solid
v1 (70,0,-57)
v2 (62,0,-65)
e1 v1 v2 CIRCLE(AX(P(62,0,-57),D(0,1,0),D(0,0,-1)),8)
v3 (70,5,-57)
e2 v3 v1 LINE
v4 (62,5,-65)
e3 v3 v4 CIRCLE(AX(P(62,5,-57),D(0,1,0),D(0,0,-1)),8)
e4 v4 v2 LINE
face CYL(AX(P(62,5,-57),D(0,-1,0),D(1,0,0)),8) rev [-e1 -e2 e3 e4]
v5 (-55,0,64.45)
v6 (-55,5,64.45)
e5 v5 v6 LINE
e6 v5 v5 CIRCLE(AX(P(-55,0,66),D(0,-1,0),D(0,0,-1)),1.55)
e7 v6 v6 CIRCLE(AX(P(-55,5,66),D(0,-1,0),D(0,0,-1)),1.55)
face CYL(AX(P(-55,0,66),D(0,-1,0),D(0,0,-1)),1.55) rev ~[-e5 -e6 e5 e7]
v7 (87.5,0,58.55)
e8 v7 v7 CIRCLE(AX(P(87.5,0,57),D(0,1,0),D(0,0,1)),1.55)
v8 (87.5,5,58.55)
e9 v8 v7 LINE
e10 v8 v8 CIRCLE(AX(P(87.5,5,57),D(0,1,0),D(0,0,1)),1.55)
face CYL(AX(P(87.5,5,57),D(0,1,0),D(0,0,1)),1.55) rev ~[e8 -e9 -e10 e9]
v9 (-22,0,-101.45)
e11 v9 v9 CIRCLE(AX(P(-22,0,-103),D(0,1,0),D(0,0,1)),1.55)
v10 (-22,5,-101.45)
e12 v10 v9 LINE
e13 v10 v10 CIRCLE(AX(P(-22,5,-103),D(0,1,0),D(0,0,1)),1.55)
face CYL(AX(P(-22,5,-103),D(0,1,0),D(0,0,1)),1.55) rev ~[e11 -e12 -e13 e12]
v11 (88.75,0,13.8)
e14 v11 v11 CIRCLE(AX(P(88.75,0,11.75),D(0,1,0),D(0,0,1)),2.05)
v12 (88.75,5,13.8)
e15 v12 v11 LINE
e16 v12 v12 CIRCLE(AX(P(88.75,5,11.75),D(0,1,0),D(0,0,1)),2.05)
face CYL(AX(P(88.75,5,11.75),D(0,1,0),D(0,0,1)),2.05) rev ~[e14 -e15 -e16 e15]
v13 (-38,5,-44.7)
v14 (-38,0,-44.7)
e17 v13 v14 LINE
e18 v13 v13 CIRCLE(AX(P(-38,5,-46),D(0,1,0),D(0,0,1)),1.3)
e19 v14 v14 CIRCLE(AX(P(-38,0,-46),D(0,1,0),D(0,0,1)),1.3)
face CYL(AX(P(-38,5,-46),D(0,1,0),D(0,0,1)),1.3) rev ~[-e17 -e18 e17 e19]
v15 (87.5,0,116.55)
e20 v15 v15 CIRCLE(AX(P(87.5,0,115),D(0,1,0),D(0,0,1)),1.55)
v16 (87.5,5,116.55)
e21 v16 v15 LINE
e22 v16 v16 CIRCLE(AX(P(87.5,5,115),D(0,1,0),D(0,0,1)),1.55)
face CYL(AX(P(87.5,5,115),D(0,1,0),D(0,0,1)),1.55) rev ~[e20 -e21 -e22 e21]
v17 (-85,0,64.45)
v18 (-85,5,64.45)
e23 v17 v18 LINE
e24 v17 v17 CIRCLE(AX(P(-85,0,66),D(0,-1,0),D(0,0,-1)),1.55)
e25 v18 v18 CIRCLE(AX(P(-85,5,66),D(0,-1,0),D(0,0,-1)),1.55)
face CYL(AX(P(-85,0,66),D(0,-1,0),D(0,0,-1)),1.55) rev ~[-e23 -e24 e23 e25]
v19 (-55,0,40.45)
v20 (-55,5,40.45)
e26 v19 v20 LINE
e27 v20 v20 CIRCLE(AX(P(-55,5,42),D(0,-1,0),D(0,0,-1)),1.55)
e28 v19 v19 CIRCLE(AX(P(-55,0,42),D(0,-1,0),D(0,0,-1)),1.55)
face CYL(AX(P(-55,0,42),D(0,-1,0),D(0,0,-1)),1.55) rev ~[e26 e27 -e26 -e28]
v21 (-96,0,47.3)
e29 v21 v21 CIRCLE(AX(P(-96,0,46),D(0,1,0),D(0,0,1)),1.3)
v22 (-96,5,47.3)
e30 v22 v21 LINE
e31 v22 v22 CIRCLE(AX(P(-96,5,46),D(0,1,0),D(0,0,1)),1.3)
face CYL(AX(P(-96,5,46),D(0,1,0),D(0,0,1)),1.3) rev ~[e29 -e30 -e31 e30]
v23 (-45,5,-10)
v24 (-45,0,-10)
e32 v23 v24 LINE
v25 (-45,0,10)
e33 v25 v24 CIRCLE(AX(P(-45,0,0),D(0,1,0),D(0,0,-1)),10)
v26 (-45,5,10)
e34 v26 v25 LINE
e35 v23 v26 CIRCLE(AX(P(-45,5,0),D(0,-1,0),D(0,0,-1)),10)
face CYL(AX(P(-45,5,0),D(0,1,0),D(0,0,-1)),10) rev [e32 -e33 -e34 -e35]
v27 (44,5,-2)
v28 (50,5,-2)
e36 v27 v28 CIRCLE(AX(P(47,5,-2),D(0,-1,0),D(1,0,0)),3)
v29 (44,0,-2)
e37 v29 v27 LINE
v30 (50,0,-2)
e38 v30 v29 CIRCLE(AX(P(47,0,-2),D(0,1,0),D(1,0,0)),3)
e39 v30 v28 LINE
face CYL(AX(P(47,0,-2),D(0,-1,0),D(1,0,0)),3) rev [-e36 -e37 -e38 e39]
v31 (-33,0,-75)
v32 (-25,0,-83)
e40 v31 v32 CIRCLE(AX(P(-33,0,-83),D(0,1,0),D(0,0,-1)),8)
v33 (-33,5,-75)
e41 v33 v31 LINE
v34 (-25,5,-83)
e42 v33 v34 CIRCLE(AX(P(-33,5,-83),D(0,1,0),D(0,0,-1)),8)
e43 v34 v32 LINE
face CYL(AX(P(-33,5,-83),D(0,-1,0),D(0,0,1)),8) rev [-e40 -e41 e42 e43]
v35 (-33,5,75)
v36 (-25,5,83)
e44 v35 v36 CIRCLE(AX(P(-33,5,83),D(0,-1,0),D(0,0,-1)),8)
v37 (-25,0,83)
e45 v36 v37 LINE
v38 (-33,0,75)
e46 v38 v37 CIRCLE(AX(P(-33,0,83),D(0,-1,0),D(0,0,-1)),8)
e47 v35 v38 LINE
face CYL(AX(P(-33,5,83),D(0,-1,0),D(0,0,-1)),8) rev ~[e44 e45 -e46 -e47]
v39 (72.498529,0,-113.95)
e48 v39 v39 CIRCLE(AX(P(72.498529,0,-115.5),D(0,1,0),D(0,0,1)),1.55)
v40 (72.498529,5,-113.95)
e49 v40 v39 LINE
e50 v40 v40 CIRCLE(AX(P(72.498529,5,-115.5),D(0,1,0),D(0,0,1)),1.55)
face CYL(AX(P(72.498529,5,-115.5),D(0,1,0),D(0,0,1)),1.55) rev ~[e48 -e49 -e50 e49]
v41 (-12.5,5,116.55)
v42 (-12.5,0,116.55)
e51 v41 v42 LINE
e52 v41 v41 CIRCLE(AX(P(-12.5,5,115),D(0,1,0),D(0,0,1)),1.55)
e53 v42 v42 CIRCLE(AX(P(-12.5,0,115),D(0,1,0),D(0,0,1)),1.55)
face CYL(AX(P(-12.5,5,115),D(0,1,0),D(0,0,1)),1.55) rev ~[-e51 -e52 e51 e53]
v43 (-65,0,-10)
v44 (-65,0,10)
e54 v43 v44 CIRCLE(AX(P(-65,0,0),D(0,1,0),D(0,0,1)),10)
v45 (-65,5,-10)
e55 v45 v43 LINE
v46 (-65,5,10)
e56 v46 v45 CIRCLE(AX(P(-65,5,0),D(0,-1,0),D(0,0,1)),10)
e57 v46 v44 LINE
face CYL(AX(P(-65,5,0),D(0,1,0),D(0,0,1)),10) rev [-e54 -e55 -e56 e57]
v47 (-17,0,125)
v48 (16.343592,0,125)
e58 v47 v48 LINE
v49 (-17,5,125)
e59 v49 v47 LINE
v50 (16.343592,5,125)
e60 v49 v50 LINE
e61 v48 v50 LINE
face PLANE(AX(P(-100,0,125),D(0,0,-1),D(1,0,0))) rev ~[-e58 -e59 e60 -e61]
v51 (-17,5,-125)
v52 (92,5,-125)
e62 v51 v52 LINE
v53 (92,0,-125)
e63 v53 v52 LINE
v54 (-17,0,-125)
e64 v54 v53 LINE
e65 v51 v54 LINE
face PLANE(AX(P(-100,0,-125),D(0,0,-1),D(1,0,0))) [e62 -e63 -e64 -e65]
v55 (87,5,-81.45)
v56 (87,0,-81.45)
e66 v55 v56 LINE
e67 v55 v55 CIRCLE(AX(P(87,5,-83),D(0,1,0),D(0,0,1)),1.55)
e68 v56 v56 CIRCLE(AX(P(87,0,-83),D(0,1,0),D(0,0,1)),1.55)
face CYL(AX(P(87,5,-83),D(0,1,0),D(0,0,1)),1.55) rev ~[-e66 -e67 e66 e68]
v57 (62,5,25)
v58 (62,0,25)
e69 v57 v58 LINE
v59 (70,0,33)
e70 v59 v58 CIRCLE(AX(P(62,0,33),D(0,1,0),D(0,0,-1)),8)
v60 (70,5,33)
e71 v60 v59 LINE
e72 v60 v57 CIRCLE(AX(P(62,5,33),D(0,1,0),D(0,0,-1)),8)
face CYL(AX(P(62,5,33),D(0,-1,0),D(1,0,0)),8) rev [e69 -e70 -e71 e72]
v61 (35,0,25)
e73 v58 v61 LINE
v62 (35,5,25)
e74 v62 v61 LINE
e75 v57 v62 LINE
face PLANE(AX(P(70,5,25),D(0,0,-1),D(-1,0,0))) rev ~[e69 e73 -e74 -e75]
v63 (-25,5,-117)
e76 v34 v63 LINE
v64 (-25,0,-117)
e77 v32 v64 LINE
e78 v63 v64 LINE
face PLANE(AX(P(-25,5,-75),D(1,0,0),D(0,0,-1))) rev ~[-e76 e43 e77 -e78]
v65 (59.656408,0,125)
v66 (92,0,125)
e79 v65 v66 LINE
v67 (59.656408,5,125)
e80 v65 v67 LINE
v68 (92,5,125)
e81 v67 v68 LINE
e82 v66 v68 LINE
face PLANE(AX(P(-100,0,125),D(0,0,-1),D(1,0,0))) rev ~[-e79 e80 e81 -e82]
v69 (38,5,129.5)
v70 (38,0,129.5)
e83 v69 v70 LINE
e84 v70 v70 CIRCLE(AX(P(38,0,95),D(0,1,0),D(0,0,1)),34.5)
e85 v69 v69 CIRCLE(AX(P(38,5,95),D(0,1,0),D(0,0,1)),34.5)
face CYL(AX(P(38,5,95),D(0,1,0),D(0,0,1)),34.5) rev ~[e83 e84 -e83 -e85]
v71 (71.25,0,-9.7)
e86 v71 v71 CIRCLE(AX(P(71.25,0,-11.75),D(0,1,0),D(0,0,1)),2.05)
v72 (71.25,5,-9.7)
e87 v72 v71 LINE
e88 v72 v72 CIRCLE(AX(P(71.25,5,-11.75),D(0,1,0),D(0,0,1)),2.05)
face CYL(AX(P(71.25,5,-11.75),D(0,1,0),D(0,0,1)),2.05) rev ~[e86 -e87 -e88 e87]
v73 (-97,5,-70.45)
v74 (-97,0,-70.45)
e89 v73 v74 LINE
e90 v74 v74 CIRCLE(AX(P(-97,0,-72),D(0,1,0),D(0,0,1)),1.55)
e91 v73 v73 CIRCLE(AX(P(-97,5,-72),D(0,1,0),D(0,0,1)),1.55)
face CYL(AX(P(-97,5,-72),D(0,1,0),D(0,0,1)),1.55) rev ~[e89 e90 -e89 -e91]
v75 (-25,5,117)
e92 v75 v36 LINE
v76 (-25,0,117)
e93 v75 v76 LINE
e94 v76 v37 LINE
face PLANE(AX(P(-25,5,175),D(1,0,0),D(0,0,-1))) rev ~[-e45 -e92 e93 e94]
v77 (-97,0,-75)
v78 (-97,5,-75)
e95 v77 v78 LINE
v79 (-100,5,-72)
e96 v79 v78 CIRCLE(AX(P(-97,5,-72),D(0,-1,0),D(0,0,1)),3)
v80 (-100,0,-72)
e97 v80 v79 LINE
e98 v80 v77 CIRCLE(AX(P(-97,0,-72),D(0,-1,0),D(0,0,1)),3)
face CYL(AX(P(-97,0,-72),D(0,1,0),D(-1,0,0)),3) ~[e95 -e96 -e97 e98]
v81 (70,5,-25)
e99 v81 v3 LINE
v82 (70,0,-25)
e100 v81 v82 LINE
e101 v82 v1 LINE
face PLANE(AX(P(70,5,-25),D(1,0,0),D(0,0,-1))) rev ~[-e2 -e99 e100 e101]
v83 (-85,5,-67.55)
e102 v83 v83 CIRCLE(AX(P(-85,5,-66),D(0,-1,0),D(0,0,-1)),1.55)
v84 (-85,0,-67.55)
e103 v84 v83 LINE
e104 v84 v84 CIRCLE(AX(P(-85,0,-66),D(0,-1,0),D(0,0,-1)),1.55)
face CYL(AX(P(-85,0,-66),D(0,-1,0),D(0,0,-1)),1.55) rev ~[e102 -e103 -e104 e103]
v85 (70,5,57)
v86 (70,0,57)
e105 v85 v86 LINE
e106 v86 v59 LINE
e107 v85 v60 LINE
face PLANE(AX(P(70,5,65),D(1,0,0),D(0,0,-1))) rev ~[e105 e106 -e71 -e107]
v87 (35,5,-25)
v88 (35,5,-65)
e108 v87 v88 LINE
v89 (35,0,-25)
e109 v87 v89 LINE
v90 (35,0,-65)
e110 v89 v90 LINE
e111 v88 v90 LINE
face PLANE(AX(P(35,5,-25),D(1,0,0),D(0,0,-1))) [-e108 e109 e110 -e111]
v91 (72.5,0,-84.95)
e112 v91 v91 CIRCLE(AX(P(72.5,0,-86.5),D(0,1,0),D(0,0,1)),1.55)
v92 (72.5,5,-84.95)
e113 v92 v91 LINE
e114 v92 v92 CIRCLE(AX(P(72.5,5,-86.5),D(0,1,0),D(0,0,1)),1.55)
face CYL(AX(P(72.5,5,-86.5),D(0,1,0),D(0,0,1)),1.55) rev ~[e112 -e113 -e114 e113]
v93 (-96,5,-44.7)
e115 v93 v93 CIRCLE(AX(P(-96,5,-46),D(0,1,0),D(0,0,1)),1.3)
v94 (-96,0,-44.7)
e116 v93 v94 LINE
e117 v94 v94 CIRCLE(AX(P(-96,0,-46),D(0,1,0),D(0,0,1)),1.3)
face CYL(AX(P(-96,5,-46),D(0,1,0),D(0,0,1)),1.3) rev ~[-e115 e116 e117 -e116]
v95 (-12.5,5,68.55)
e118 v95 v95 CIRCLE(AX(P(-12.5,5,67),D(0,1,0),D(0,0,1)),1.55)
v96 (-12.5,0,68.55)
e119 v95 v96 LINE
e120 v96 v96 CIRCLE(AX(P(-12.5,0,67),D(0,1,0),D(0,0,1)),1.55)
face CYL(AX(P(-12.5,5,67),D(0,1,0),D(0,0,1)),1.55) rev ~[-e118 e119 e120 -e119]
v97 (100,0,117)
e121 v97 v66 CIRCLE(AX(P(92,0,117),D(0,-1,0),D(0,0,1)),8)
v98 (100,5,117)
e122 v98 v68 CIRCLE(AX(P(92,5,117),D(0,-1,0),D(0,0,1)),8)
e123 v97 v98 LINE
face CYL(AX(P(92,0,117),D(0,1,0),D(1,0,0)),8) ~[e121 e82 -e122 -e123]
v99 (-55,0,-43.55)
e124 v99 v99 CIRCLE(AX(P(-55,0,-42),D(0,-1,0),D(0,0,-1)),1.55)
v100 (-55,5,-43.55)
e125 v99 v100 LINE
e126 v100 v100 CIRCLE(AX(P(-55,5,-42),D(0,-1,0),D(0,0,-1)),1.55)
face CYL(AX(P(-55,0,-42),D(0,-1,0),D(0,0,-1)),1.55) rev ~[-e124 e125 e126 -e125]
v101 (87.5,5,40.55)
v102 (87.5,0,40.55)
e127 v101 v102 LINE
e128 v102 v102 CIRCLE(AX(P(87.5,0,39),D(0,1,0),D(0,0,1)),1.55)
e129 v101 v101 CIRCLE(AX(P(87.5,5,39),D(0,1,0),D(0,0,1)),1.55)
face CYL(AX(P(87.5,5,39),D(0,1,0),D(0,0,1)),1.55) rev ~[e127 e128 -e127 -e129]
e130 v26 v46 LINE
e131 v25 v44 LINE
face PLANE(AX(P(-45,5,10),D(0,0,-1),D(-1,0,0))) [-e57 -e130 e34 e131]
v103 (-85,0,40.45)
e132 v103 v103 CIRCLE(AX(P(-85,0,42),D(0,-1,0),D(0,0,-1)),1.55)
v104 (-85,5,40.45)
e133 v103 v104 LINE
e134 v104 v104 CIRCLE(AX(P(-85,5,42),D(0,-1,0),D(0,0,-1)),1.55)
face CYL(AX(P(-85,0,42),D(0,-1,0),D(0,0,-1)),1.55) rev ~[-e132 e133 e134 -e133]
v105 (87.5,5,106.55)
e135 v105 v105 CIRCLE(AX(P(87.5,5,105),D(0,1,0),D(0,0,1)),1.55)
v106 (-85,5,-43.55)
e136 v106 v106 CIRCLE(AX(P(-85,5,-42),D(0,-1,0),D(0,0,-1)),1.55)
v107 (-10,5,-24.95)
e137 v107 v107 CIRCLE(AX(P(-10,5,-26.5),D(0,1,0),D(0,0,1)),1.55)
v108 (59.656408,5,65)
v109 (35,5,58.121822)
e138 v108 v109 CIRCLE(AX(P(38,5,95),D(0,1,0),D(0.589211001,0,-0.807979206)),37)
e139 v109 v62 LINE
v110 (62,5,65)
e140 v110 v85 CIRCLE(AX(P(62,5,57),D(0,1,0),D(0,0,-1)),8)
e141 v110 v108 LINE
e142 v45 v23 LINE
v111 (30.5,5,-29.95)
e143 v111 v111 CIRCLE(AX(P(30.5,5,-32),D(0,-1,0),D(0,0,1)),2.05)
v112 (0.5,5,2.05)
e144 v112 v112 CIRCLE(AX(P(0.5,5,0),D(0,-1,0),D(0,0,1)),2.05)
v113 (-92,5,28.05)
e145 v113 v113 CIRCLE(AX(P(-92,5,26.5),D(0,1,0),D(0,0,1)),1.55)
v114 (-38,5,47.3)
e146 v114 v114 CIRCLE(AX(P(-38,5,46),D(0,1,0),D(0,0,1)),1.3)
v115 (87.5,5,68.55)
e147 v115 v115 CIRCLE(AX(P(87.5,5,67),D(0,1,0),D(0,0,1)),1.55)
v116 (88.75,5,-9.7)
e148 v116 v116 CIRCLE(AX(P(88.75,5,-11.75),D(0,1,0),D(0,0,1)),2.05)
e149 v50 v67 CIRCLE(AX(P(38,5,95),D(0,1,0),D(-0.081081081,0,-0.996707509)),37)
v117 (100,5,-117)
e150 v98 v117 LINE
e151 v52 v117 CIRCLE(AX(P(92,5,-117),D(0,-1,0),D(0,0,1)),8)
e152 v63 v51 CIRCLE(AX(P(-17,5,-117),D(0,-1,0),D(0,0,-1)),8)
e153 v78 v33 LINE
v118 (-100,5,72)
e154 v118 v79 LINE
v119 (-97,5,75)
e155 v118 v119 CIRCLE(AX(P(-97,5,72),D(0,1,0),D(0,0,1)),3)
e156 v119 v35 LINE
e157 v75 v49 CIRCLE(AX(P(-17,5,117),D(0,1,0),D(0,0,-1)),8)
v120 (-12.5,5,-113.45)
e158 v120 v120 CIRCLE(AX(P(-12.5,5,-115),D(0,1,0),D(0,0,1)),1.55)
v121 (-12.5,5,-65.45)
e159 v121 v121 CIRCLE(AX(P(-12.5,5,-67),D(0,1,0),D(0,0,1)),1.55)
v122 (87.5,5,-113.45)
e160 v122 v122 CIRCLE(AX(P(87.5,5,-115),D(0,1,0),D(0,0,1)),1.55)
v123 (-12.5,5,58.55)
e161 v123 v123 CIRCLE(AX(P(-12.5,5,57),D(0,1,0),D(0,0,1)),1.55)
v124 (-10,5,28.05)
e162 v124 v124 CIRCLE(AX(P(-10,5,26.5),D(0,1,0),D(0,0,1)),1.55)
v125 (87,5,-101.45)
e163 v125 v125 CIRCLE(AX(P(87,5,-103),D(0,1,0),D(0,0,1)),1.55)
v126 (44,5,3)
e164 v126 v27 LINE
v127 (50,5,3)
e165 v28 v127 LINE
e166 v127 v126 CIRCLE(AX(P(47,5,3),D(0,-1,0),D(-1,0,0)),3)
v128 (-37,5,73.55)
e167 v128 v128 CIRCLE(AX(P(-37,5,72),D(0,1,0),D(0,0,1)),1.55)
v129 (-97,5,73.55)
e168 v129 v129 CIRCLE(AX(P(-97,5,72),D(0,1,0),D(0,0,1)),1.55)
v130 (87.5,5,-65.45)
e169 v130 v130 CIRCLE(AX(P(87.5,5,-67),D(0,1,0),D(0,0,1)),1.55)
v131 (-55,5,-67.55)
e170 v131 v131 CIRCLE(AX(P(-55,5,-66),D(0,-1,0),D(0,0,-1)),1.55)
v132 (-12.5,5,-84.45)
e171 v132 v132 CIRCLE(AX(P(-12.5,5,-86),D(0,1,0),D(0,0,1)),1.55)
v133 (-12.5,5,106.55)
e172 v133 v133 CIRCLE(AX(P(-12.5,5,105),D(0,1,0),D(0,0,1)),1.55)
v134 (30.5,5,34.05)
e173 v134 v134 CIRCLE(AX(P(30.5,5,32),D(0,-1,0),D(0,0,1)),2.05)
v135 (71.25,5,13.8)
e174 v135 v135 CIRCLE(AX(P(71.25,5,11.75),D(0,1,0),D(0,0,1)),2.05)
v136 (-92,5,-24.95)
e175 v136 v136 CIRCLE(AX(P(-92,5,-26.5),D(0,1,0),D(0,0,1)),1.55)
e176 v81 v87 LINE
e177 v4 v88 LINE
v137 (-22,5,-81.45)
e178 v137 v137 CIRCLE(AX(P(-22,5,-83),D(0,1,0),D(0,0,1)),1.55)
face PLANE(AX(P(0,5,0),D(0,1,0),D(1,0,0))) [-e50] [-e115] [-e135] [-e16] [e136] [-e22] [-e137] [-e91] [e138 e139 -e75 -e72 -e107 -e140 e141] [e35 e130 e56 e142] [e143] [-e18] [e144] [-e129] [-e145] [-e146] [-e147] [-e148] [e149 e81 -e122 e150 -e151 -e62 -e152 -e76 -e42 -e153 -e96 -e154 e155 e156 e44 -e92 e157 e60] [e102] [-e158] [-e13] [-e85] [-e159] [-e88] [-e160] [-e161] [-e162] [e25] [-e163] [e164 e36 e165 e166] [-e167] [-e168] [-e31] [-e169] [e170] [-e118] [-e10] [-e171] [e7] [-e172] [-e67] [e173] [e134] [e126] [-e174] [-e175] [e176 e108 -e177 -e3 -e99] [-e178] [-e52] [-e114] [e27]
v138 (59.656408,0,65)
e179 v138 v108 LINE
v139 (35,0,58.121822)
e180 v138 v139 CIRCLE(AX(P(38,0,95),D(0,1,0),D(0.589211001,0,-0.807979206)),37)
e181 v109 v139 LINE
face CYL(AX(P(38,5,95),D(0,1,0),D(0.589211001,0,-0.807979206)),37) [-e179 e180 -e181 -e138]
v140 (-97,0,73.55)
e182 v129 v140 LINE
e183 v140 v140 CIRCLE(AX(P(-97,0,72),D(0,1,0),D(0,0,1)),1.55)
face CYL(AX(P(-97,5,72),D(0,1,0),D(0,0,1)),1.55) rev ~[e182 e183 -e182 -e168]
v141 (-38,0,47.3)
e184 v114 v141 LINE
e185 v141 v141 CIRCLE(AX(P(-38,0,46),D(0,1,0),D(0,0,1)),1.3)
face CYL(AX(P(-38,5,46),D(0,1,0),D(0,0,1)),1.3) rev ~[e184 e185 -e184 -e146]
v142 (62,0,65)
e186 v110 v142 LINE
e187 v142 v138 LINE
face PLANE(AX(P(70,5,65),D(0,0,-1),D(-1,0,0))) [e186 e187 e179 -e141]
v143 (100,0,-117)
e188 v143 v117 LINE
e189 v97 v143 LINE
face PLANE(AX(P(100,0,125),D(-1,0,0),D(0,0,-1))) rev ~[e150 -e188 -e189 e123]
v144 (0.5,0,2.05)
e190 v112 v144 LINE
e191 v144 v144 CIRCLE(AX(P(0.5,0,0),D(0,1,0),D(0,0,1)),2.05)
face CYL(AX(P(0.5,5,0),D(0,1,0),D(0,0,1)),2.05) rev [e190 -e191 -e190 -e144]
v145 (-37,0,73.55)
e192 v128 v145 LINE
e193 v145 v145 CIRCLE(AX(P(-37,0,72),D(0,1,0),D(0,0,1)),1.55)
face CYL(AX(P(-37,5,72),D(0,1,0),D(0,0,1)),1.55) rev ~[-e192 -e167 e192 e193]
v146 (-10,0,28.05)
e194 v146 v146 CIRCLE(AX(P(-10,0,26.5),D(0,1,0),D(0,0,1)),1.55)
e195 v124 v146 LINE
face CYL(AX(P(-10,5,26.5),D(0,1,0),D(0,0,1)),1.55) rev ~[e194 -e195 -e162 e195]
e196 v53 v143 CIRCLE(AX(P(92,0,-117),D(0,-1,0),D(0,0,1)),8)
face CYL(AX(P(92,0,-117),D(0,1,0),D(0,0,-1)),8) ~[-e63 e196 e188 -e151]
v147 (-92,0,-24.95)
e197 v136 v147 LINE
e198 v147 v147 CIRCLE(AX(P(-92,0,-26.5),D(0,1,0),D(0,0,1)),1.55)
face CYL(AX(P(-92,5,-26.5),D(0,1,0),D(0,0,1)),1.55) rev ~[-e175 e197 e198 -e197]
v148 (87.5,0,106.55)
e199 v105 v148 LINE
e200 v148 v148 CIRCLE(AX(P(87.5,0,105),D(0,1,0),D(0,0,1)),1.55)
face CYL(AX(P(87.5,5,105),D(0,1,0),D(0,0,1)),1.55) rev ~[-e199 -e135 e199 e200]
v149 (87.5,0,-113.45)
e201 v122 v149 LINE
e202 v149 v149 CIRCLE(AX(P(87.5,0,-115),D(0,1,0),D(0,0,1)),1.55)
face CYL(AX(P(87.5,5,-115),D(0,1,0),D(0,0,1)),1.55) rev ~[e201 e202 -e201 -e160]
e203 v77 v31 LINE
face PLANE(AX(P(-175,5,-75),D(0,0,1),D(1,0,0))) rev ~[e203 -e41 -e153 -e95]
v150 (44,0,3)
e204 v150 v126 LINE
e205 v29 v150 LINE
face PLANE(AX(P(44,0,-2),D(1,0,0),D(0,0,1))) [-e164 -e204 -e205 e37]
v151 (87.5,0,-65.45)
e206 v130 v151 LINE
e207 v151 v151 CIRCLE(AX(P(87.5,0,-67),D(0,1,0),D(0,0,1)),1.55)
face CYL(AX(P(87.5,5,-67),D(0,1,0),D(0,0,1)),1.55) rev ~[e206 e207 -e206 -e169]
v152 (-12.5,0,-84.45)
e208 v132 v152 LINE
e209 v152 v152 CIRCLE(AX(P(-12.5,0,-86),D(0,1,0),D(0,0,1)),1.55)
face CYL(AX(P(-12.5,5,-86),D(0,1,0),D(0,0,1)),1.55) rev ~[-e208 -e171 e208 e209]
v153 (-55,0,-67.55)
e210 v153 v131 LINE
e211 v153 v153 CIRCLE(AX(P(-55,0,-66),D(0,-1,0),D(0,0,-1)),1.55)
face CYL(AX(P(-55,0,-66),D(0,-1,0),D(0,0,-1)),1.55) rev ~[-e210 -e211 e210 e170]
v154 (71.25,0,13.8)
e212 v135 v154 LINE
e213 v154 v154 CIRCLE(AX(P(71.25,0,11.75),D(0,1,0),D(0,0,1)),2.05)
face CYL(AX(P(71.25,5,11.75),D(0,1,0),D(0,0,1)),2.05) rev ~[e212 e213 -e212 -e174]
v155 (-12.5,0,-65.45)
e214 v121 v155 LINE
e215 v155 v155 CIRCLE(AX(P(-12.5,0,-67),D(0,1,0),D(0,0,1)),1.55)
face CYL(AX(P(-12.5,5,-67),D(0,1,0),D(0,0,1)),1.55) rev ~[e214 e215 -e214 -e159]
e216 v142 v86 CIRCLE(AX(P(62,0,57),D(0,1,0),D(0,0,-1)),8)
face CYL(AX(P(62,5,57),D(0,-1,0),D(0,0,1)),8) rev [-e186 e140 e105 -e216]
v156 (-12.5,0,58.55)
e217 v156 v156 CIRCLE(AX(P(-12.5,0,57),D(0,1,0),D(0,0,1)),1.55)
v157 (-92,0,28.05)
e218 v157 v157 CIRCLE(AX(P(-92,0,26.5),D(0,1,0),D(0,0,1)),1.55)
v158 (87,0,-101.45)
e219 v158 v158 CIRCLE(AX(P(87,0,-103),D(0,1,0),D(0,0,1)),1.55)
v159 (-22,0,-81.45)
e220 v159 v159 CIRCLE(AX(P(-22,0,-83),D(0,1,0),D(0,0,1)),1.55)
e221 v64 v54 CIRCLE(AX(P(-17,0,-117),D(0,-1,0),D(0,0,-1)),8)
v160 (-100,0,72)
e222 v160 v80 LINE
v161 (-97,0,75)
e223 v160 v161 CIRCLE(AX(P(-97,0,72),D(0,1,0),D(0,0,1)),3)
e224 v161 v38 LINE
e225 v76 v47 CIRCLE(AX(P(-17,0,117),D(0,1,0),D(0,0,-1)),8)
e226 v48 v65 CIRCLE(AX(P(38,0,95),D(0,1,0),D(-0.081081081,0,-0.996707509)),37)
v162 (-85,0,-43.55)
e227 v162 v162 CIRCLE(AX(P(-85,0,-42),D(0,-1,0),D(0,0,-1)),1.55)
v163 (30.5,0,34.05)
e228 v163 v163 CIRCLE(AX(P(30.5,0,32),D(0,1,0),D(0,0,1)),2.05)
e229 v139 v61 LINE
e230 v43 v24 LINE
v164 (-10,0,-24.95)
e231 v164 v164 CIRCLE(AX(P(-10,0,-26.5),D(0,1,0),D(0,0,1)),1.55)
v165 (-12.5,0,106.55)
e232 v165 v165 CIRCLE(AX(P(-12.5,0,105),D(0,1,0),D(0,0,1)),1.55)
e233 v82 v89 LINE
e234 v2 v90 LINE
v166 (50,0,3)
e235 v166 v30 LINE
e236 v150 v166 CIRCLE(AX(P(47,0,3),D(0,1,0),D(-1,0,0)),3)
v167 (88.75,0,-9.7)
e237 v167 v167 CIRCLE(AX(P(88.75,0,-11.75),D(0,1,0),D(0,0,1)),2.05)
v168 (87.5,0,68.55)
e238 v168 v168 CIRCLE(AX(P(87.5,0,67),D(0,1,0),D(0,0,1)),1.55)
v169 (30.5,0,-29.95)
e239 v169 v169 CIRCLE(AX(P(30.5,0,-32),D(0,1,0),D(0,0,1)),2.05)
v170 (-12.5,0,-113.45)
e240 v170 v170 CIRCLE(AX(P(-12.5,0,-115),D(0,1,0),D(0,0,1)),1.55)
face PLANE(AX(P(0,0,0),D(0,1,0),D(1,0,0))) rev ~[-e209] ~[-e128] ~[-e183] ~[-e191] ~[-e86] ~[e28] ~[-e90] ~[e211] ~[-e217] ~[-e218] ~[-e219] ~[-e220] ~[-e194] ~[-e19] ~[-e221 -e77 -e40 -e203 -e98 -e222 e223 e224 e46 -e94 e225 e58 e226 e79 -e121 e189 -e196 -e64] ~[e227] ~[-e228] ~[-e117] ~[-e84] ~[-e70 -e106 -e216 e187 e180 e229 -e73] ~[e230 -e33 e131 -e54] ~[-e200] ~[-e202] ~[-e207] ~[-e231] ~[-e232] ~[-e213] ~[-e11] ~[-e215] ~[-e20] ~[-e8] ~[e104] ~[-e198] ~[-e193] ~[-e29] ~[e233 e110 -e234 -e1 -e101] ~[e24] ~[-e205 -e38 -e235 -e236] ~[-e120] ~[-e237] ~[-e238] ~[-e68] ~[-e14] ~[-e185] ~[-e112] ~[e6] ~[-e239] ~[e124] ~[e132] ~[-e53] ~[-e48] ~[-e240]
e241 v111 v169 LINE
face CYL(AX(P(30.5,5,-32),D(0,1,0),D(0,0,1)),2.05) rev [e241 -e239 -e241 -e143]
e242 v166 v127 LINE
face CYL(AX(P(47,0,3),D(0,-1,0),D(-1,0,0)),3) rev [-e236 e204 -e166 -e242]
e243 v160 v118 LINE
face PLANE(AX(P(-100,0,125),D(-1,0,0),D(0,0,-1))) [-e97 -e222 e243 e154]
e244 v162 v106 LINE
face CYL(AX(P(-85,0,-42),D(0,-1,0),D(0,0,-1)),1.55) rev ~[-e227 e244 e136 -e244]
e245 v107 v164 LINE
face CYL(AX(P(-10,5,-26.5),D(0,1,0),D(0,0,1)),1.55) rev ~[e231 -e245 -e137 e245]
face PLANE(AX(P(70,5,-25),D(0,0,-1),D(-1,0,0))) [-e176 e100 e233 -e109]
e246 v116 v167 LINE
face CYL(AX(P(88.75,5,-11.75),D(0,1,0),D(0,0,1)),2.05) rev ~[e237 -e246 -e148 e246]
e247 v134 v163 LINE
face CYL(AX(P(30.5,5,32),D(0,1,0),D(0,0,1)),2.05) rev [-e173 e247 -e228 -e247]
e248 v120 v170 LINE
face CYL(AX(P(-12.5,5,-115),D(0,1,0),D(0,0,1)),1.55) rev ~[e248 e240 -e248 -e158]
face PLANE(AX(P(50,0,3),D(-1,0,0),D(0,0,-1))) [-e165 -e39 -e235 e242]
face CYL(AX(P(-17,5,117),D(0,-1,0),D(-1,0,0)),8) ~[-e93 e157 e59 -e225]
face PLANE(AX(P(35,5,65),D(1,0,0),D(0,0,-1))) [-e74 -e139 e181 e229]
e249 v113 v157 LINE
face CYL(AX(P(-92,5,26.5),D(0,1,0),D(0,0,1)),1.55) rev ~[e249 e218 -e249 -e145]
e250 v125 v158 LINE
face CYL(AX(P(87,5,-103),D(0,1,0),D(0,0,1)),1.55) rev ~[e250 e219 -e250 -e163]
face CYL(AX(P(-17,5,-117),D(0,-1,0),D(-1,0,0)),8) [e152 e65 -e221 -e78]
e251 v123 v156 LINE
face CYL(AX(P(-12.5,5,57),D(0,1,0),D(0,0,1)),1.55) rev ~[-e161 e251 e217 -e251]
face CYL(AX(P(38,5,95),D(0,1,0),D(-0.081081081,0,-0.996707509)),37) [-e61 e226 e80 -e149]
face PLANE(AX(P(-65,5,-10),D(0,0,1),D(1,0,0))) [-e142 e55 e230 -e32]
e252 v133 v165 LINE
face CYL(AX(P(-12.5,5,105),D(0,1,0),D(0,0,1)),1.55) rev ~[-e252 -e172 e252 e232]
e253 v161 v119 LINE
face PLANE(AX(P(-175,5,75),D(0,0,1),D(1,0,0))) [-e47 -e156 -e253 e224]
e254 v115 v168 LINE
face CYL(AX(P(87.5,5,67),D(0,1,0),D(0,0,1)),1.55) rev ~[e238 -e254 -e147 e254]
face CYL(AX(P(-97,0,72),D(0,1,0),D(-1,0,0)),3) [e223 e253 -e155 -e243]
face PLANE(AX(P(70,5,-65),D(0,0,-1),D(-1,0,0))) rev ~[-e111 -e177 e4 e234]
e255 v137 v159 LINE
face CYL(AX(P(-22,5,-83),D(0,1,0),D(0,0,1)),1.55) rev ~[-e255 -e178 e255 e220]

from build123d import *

# Parameters (mm, degrees)
SKETCH_1_W               = 200
SKETCH_1_H               = 250
EXTRUDE_1_DEPTH          = 5
SKETCH_2_W               = 150
SKETCH_2_H               = 100
CUT_EXTRUDE_1_DEPTH      = 10
SKETCH_3_R               = 1.55
CUT_EXTRUDE_2_DEPTH      = 10
CUT_EXTRUDE_3_DEPTH      = 10
CUT_EXTRUDE_3_DEPTH_BACK = 5
SKETCH_6_R               = 2.05
SKETCH_6_W               = 35
SKETCH_6_H               = 40
SKETCH_7_R               = 35
CUT_EXTRUDE_4_DEPTH      = 5
SKETCH_8_R               = 2.05
CUT_EXTRUDE_5_DEPTH      = 161.15617378
SKETCH_10_R              = 1.55
CUT_EXTRUDE_6_DEPTH      = 10
SKETCH_11_R              = 1.55
CUT_EXTRUDE_7_DEPTH      = 5
SKETCH_14_R              = 1.55
CUT_EXTRUDE_10_DEPTH     = 5
SKETCH_16_R              = 1.3
CUT_EXTRUDE_11_DEPTH     = 5
SKETCH_18_R              = 34.5
EXTRUDE_2_DEPTH          = 5
FILLET_1_R               = 8
SKETCH_19_R              = 1.55
CUT_EXTRUDE_12_DEPTH     = 10
SKETCH_20_R              = 1.55
CUT_EXTRUDE_13_DEPTH     = 10
CUT_EXTRUDE_14_DEPTH     = 10
FILLET_2_R               = 3
FILLET_3_R               = 8
CUT_EXTRUDE_15_DEPTH     = 10
SKETCH_23_R              = 1.55
CUT_EXTRUDE_16_DEPTH     = 10
SKETCH_24_R              = 1.55
CUT_EXTRUDE_17_DEPTH     = 10


with BuildPart() as part:
    # 草图1 → 凸台-拉伸1 (new body)
    with BuildSketch(Plane(origin=(0, 0, 0), x_dir=(1, 0, 0), z_dir=(0, 1, 0))):
        Rectangle(SKETCH_1_W, SKETCH_1_H)
    extrude(amount=EXTRUDE_1_DEPTH)

    # 草图2 → 切除-拉伸1 (cut)
    with BuildSketch(Plane(origin=(0, 5, 0), x_dir=(1, 0, 0), z_dir=(0, 1, 0))):
        with Locations((-100, 125)):
            Rectangle(SKETCH_2_W, SKETCH_2_H)
        with Locations((-100, -125)):
            Rectangle(SKETCH_2_W, SKETCH_2_H)
    extrude(amount=-CUT_EXTRUDE_1_DEPTH, mode=Mode.SUBTRACT)

    # 草图3 → 切除-拉伸2 (cut)
    with BuildSketch(Plane(origin=(0, 0, 0), x_dir=(-1, 0, 0), z_dir=(0, -1, 0))):
        with Locations(Location((85, 66, 0), (0, 0, 90))):
            Circle(SKETCH_3_R)
        with Locations(Location((55, 66, 0), (0, 0, 90))):
            Circle(SKETCH_3_R)
        with Locations(Location((55, 42, 0), (0, 0, 90))):
            Circle(SKETCH_3_R)
        with Locations(Location((85, 42, 0), (0, 0, 90))):
            Circle(SKETCH_3_R)
        with Locations(Location((55, -42, 0), (0, 0, 90))):
            Circle(SKETCH_3_R)
        with Locations(Location((85, -42, 0), (0, 0, 90))):
            Circle(SKETCH_3_R)
        with Locations(Location((55, -66, 0), (0, 0, 90))):
            Circle(SKETCH_3_R)
        with Locations(Location((85, -66, 0), (0, 0, 90))):
            Circle(SKETCH_3_R)
    extrude(amount=-CUT_EXTRUDE_2_DEPTH, mode=Mode.SUBTRACT)

    # 草图6 → 切除-拉伸3 (cut, two sides: drawn at the far end of the back side and taken through both)
    with BuildSketch(Plane(origin=(0, 0, 0), x_dir=(-1, 0, 0), z_dir=(0, -1, 0)).offset(-CUT_EXTRUDE_3_DEPTH_BACK)):
        with Locations(Location((-30.5, 32, 0), (0, 0, 270))):
            Circle(SKETCH_6_R)
        with Locations(Location((-0.5, 0, 0), (0, 0, 270))):
            Circle(SKETCH_6_R)
        with Locations(Location((-30.5, -32, 0), (0, 0, 270))):
            Circle(SKETCH_6_R)
        with Locations((-52.5, -45)):
            Rectangle(SKETCH_6_W, SKETCH_6_H)
        with Locations((-52.5, 45)):
            Rectangle(SKETCH_6_W, SKETCH_6_H)
    extrude(amount=CUT_EXTRUDE_3_DEPTH + CUT_EXTRUDE_3_DEPTH_BACK, mode=Mode.SUBTRACT)

    # 草图7 → 切除-拉伸4 (cut)
    with BuildSketch(Plane(origin=(0, 0, 0), x_dir=(-1, 0, 0), z_dir=(0, -1, 0))):
        with Locations((-38, -95)):
            Circle(SKETCH_7_R)
    extrude(amount=-CUT_EXTRUDE_4_DEPTH, mode=Mode.SUBTRACT)

    # 草图8 → 切除-拉伸5 (cut, through all)
    with BuildSketch(Plane(origin=(0, 5, 0), x_dir=(1, 0, 0), z_dir=(0, 1, 0))):
        with Locations(Location((71.25, 11.75, 0), (0, 0, 270))):
            Circle(SKETCH_8_R)
        with Locations(Location((88.75, 11.75, 0), (0, 0, 270))):
            Circle(SKETCH_8_R)
        with Locations(Location((88.75, -11.75, 0), (0, 0, 270))):
            Circle(SKETCH_8_R)
        with Locations(Location((71.25, -11.75, 0), (0, 0, 270))):
            Circle(SKETCH_8_R)
    extrude(amount=-CUT_EXTRUDE_5_DEPTH, mode=Mode.SUBTRACT)

    # 草图10 → 切除-拉伸6 (cut)
    with BuildSketch(Plane(origin=(0, 5, 0), x_dir=(1, 0, 0), z_dir=(0, 1, 0))):
        with Locations(Location((-12.5, -67, 0), (0, 0, 270))):
            Circle(SKETCH_10_R)
        with Locations(Location((-12.5, -115, 0), (0, 0, 270))):
            Circle(SKETCH_10_R)
        with Locations(Location((87.5, -67, 0), (0, 0, 270))):
            Circle(SKETCH_10_R)
        with Locations(Location((87.5, -115, 0), (0, 0, 270))):
            Circle(SKETCH_10_R)
    extrude(amount=-CUT_EXTRUDE_6_DEPTH, mode=Mode.SUBTRACT)

    # 草图11 → 切除-拉伸7 (cut)
    with BuildSketch(Plane(origin=(0, 5, 0), x_dir=(1, 0, 0), z_dir=(0, 1, 0))):
        with Locations(Location((87.5, 115, 0), (0, 0, 270))):
            Circle(SKETCH_11_R)
        with Locations(Location((87.5, 67, 0), (0, 0, 270))):
            Circle(SKETCH_11_R)
        with Locations(Location((-12.5, 115, 0), (0, 0, 270))):
            Circle(SKETCH_11_R)
        with Locations(Location((-12.5, 67, 0), (0, 0, 270))):
            Circle(SKETCH_11_R)
    extrude(amount=-CUT_EXTRUDE_7_DEPTH, mode=Mode.SUBTRACT)

    # 草图14 → 切除-拉伸10 (cut)
    with BuildSketch(Plane(origin=(0, 5, 0), x_dir=(1, 0, 0), z_dir=(0, 1, 0))):
        with Locations(Location((-92, -26.5, 0), (0, 0, 270))):
            Circle(SKETCH_14_R)
        with Locations(Location((-92, 26.5, 0), (0, 0, 270))):
            Circle(SKETCH_14_R)
        with Locations(Location((-10, 26.5, 0), (0, 0, 270))):
            Circle(SKETCH_14_R)
        with Locations(Location((-10, -26.5, 0), (0, 0, 270))):
            Circle(SKETCH_14_R)
    extrude(amount=-CUT_EXTRUDE_10_DEPTH, mode=Mode.SUBTRACT)

    # 草图16 → 切除-拉伸11 (cut)
    with BuildSketch(Plane(origin=(0, 5, 0), x_dir=(1, 0, 0), z_dir=(0, 1, 0))):
        with Locations(Location((-96, 46, 0), (0, 0, 270))):
            Circle(SKETCH_16_R)
        with Locations(Location((-38, 46, 0), (0, 0, 270))):
            Circle(SKETCH_16_R)
        with Locations(Location((-38, -46, 0), (0, 0, 270))):
            Circle(SKETCH_16_R)
        with Locations(Location((-96, -46, 0), (0, 0, 270))):
            Circle(SKETCH_16_R)
    extrude(amount=-CUT_EXTRUDE_11_DEPTH, mode=Mode.SUBTRACT)

    # 草图18 → 凸台-拉伸2 (add)
    with BuildSketch(Plane(origin=(0, 5, 0), x_dir=(1, 0, 0), z_dir=(0, 1, 0))):
        with BuildLine():
            ThreePointArc((35, -58.121822171), (12.920127592, -122.202941017), (75, -95))
            ThreePointArc((75, -95), (70.982039506, -78.231426118), (59.800807024, -65.104769392))
            ThreePointArc((59.800807024, -65.104769392), (48.0278599, -59.38480625), (35, -58.121822171))
        make_face()
        with Locations(Location((38, -95, 0), (0, 0, 270))):
            Circle(SKETCH_18_R, mode=Mode.SUBTRACT)
    extrude(amount=-EXTRUDE_2_DEPTH)

    # 圆角1
    fillet_1_edges = [part.edges().sort_by_distance(p)[0] for p in [
        (70, 2.5, -65),
        (70, 2.5, 25),
        (70, 2.5, 65),
    ]]
    fillet(fillet_1_edges, radius=FILLET_1_R)

    # 草图19 → 切除-拉伸12 (cut)
    with BuildSketch(Plane(origin=(0, 5, 0), x_dir=(1, 0, 0), z_dir=(0, 1, 0))):
        with Locations(Location((-97, 72, 0), (0, 0, 270))):
            Circle(SKETCH_19_R)
        with Locations(Location((-97, -72, 0), (0, 0, 270))):
            Circle(SKETCH_19_R)
    extrude(amount=-CUT_EXTRUDE_12_DEPTH, mode=Mode.SUBTRACT)

    # 草图20 → 切除-拉伸13 (cut)
    with BuildSketch(Plane(origin=(0, 5, 0), x_dir=(1, 0, 0), z_dir=(0, 1, 0))):
        with Locations(Location((72.498529399, 115.5, 0), (0, 0, 270))):
            Circle(SKETCH_20_R)
        with Locations(Location((72.5, 86.5, 0), (0, 0, 270))):
            Circle(SKETCH_20_R)
        with Locations(Location((87, 103, 0), (0, 0, 270))):
            Circle(SKETCH_20_R)
        with Locations(Location((87, 83, 0), (0, 0, 270))):
            Circle(SKETCH_20_R)
        with Locations(Location((-22, 103, 0), (0, 0, 270))):
            Circle(SKETCH_20_R)
        with Locations(Location((-22, 83, 0), (0, 0, 270))):
            Circle(SKETCH_20_R)
        with Locations(Location((-12.5, 86, 0), (0, 0, 270))):
            Circle(SKETCH_20_R)
    extrude(amount=-CUT_EXTRUDE_13_DEPTH, mode=Mode.SUBTRACT)

    # 草图21 → 切除-拉伸14 (cut)
    with BuildSketch(Plane(origin=(0, 5, 0), x_dir=(1, 0, 0), z_dir=(0, 1, 0))):
        with BuildLine():
            Line((-65, 10), (-45, 10))
            ThreePointArc((-45, 10), (-35, 0), (-45, -10))
            Line((-45, -10), (-65, -10))
            ThreePointArc((-65, -10), (-75, 0), (-65, 10))
        make_face()
    extrude(amount=-CUT_EXTRUDE_14_DEPTH, mode=Mode.SUBTRACT)

    # 圆角2
    fillet_2_edges = [part.edges().sort_by_distance(p)[0] for p in [
        (-100, 2.5, -75),
        (-100, 2.5, 75),
    ]]
    fillet(fillet_2_edges, radius=FILLET_2_R)

    # 圆角3
    fillet_3_edges = [part.edges().sort_by_distance(p)[0] for p in [
        (-25, 2.5, -125),
        (-25, 2.5, -75),
        (-25, 2.5, 125),
        (-25, 2.5, 75),
        (100, 2.5, 125),
        (100, 2.5, -125),
    ]]
    fillet(fillet_3_edges, radius=FILLET_3_R)

    # 草图22 → 切除-拉伸15 (cut)
    with BuildSketch(Plane(origin=(0, 0, 0), x_dir=(-1, 0, 0), z_dir=(0, -1, 0))):
        with BuildLine():
            Line((-44, 2), (-44, -3))
            ThreePointArc((-44, -3), (-47, -6), (-50, -3))
            Line((-50, -3), (-50, 2))
            ThreePointArc((-50, 2), (-47, 5), (-44, 2))
        make_face()
    extrude(amount=-CUT_EXTRUDE_15_DEPTH, mode=Mode.SUBTRACT)

    # 草图23 → 切除-拉伸16 (cut)
    with BuildSketch(Plane(origin=(0, 5, 0), x_dir=(1, 0, 0), z_dir=(0, 1, 0))):
        with Locations(Location((87.5, -39, 0), (0, 0, 270))):
            Circle(SKETCH_23_R)
        with Locations(Location((-37, -72, 0), (0, 0, 270))):
            Circle(SKETCH_23_R)
    extrude(amount=-CUT_EXTRUDE_16_DEPTH, mode=Mode.SUBTRACT)

    # 草图24 → 切除-拉伸17 (cut)
    with BuildSketch(Plane(origin=(0, 5, 0), x_dir=(1, 0, 0), z_dir=(0, 1, 0))):
        with Locations(Location((87.5, -105, 0), (0, 0, 270))):
            Circle(SKETCH_24_R)
        with Locations(Location((-12.5, -105, 0), (0, 0, 270))):
            Circle(SKETCH_24_R)
        with Locations(Location((87.5, -57, 0), (0, 0, 270))):
            Circle(SKETCH_24_R)
        with Locations(Location((-12.5, -57, 0), (0, 0, 270))):
            Circle(SKETCH_24_R)
    extrude(amount=-CUT_EXTRUDE_17_DEPTH, mode=Mode.SUBTRACT)


solid = part.part
